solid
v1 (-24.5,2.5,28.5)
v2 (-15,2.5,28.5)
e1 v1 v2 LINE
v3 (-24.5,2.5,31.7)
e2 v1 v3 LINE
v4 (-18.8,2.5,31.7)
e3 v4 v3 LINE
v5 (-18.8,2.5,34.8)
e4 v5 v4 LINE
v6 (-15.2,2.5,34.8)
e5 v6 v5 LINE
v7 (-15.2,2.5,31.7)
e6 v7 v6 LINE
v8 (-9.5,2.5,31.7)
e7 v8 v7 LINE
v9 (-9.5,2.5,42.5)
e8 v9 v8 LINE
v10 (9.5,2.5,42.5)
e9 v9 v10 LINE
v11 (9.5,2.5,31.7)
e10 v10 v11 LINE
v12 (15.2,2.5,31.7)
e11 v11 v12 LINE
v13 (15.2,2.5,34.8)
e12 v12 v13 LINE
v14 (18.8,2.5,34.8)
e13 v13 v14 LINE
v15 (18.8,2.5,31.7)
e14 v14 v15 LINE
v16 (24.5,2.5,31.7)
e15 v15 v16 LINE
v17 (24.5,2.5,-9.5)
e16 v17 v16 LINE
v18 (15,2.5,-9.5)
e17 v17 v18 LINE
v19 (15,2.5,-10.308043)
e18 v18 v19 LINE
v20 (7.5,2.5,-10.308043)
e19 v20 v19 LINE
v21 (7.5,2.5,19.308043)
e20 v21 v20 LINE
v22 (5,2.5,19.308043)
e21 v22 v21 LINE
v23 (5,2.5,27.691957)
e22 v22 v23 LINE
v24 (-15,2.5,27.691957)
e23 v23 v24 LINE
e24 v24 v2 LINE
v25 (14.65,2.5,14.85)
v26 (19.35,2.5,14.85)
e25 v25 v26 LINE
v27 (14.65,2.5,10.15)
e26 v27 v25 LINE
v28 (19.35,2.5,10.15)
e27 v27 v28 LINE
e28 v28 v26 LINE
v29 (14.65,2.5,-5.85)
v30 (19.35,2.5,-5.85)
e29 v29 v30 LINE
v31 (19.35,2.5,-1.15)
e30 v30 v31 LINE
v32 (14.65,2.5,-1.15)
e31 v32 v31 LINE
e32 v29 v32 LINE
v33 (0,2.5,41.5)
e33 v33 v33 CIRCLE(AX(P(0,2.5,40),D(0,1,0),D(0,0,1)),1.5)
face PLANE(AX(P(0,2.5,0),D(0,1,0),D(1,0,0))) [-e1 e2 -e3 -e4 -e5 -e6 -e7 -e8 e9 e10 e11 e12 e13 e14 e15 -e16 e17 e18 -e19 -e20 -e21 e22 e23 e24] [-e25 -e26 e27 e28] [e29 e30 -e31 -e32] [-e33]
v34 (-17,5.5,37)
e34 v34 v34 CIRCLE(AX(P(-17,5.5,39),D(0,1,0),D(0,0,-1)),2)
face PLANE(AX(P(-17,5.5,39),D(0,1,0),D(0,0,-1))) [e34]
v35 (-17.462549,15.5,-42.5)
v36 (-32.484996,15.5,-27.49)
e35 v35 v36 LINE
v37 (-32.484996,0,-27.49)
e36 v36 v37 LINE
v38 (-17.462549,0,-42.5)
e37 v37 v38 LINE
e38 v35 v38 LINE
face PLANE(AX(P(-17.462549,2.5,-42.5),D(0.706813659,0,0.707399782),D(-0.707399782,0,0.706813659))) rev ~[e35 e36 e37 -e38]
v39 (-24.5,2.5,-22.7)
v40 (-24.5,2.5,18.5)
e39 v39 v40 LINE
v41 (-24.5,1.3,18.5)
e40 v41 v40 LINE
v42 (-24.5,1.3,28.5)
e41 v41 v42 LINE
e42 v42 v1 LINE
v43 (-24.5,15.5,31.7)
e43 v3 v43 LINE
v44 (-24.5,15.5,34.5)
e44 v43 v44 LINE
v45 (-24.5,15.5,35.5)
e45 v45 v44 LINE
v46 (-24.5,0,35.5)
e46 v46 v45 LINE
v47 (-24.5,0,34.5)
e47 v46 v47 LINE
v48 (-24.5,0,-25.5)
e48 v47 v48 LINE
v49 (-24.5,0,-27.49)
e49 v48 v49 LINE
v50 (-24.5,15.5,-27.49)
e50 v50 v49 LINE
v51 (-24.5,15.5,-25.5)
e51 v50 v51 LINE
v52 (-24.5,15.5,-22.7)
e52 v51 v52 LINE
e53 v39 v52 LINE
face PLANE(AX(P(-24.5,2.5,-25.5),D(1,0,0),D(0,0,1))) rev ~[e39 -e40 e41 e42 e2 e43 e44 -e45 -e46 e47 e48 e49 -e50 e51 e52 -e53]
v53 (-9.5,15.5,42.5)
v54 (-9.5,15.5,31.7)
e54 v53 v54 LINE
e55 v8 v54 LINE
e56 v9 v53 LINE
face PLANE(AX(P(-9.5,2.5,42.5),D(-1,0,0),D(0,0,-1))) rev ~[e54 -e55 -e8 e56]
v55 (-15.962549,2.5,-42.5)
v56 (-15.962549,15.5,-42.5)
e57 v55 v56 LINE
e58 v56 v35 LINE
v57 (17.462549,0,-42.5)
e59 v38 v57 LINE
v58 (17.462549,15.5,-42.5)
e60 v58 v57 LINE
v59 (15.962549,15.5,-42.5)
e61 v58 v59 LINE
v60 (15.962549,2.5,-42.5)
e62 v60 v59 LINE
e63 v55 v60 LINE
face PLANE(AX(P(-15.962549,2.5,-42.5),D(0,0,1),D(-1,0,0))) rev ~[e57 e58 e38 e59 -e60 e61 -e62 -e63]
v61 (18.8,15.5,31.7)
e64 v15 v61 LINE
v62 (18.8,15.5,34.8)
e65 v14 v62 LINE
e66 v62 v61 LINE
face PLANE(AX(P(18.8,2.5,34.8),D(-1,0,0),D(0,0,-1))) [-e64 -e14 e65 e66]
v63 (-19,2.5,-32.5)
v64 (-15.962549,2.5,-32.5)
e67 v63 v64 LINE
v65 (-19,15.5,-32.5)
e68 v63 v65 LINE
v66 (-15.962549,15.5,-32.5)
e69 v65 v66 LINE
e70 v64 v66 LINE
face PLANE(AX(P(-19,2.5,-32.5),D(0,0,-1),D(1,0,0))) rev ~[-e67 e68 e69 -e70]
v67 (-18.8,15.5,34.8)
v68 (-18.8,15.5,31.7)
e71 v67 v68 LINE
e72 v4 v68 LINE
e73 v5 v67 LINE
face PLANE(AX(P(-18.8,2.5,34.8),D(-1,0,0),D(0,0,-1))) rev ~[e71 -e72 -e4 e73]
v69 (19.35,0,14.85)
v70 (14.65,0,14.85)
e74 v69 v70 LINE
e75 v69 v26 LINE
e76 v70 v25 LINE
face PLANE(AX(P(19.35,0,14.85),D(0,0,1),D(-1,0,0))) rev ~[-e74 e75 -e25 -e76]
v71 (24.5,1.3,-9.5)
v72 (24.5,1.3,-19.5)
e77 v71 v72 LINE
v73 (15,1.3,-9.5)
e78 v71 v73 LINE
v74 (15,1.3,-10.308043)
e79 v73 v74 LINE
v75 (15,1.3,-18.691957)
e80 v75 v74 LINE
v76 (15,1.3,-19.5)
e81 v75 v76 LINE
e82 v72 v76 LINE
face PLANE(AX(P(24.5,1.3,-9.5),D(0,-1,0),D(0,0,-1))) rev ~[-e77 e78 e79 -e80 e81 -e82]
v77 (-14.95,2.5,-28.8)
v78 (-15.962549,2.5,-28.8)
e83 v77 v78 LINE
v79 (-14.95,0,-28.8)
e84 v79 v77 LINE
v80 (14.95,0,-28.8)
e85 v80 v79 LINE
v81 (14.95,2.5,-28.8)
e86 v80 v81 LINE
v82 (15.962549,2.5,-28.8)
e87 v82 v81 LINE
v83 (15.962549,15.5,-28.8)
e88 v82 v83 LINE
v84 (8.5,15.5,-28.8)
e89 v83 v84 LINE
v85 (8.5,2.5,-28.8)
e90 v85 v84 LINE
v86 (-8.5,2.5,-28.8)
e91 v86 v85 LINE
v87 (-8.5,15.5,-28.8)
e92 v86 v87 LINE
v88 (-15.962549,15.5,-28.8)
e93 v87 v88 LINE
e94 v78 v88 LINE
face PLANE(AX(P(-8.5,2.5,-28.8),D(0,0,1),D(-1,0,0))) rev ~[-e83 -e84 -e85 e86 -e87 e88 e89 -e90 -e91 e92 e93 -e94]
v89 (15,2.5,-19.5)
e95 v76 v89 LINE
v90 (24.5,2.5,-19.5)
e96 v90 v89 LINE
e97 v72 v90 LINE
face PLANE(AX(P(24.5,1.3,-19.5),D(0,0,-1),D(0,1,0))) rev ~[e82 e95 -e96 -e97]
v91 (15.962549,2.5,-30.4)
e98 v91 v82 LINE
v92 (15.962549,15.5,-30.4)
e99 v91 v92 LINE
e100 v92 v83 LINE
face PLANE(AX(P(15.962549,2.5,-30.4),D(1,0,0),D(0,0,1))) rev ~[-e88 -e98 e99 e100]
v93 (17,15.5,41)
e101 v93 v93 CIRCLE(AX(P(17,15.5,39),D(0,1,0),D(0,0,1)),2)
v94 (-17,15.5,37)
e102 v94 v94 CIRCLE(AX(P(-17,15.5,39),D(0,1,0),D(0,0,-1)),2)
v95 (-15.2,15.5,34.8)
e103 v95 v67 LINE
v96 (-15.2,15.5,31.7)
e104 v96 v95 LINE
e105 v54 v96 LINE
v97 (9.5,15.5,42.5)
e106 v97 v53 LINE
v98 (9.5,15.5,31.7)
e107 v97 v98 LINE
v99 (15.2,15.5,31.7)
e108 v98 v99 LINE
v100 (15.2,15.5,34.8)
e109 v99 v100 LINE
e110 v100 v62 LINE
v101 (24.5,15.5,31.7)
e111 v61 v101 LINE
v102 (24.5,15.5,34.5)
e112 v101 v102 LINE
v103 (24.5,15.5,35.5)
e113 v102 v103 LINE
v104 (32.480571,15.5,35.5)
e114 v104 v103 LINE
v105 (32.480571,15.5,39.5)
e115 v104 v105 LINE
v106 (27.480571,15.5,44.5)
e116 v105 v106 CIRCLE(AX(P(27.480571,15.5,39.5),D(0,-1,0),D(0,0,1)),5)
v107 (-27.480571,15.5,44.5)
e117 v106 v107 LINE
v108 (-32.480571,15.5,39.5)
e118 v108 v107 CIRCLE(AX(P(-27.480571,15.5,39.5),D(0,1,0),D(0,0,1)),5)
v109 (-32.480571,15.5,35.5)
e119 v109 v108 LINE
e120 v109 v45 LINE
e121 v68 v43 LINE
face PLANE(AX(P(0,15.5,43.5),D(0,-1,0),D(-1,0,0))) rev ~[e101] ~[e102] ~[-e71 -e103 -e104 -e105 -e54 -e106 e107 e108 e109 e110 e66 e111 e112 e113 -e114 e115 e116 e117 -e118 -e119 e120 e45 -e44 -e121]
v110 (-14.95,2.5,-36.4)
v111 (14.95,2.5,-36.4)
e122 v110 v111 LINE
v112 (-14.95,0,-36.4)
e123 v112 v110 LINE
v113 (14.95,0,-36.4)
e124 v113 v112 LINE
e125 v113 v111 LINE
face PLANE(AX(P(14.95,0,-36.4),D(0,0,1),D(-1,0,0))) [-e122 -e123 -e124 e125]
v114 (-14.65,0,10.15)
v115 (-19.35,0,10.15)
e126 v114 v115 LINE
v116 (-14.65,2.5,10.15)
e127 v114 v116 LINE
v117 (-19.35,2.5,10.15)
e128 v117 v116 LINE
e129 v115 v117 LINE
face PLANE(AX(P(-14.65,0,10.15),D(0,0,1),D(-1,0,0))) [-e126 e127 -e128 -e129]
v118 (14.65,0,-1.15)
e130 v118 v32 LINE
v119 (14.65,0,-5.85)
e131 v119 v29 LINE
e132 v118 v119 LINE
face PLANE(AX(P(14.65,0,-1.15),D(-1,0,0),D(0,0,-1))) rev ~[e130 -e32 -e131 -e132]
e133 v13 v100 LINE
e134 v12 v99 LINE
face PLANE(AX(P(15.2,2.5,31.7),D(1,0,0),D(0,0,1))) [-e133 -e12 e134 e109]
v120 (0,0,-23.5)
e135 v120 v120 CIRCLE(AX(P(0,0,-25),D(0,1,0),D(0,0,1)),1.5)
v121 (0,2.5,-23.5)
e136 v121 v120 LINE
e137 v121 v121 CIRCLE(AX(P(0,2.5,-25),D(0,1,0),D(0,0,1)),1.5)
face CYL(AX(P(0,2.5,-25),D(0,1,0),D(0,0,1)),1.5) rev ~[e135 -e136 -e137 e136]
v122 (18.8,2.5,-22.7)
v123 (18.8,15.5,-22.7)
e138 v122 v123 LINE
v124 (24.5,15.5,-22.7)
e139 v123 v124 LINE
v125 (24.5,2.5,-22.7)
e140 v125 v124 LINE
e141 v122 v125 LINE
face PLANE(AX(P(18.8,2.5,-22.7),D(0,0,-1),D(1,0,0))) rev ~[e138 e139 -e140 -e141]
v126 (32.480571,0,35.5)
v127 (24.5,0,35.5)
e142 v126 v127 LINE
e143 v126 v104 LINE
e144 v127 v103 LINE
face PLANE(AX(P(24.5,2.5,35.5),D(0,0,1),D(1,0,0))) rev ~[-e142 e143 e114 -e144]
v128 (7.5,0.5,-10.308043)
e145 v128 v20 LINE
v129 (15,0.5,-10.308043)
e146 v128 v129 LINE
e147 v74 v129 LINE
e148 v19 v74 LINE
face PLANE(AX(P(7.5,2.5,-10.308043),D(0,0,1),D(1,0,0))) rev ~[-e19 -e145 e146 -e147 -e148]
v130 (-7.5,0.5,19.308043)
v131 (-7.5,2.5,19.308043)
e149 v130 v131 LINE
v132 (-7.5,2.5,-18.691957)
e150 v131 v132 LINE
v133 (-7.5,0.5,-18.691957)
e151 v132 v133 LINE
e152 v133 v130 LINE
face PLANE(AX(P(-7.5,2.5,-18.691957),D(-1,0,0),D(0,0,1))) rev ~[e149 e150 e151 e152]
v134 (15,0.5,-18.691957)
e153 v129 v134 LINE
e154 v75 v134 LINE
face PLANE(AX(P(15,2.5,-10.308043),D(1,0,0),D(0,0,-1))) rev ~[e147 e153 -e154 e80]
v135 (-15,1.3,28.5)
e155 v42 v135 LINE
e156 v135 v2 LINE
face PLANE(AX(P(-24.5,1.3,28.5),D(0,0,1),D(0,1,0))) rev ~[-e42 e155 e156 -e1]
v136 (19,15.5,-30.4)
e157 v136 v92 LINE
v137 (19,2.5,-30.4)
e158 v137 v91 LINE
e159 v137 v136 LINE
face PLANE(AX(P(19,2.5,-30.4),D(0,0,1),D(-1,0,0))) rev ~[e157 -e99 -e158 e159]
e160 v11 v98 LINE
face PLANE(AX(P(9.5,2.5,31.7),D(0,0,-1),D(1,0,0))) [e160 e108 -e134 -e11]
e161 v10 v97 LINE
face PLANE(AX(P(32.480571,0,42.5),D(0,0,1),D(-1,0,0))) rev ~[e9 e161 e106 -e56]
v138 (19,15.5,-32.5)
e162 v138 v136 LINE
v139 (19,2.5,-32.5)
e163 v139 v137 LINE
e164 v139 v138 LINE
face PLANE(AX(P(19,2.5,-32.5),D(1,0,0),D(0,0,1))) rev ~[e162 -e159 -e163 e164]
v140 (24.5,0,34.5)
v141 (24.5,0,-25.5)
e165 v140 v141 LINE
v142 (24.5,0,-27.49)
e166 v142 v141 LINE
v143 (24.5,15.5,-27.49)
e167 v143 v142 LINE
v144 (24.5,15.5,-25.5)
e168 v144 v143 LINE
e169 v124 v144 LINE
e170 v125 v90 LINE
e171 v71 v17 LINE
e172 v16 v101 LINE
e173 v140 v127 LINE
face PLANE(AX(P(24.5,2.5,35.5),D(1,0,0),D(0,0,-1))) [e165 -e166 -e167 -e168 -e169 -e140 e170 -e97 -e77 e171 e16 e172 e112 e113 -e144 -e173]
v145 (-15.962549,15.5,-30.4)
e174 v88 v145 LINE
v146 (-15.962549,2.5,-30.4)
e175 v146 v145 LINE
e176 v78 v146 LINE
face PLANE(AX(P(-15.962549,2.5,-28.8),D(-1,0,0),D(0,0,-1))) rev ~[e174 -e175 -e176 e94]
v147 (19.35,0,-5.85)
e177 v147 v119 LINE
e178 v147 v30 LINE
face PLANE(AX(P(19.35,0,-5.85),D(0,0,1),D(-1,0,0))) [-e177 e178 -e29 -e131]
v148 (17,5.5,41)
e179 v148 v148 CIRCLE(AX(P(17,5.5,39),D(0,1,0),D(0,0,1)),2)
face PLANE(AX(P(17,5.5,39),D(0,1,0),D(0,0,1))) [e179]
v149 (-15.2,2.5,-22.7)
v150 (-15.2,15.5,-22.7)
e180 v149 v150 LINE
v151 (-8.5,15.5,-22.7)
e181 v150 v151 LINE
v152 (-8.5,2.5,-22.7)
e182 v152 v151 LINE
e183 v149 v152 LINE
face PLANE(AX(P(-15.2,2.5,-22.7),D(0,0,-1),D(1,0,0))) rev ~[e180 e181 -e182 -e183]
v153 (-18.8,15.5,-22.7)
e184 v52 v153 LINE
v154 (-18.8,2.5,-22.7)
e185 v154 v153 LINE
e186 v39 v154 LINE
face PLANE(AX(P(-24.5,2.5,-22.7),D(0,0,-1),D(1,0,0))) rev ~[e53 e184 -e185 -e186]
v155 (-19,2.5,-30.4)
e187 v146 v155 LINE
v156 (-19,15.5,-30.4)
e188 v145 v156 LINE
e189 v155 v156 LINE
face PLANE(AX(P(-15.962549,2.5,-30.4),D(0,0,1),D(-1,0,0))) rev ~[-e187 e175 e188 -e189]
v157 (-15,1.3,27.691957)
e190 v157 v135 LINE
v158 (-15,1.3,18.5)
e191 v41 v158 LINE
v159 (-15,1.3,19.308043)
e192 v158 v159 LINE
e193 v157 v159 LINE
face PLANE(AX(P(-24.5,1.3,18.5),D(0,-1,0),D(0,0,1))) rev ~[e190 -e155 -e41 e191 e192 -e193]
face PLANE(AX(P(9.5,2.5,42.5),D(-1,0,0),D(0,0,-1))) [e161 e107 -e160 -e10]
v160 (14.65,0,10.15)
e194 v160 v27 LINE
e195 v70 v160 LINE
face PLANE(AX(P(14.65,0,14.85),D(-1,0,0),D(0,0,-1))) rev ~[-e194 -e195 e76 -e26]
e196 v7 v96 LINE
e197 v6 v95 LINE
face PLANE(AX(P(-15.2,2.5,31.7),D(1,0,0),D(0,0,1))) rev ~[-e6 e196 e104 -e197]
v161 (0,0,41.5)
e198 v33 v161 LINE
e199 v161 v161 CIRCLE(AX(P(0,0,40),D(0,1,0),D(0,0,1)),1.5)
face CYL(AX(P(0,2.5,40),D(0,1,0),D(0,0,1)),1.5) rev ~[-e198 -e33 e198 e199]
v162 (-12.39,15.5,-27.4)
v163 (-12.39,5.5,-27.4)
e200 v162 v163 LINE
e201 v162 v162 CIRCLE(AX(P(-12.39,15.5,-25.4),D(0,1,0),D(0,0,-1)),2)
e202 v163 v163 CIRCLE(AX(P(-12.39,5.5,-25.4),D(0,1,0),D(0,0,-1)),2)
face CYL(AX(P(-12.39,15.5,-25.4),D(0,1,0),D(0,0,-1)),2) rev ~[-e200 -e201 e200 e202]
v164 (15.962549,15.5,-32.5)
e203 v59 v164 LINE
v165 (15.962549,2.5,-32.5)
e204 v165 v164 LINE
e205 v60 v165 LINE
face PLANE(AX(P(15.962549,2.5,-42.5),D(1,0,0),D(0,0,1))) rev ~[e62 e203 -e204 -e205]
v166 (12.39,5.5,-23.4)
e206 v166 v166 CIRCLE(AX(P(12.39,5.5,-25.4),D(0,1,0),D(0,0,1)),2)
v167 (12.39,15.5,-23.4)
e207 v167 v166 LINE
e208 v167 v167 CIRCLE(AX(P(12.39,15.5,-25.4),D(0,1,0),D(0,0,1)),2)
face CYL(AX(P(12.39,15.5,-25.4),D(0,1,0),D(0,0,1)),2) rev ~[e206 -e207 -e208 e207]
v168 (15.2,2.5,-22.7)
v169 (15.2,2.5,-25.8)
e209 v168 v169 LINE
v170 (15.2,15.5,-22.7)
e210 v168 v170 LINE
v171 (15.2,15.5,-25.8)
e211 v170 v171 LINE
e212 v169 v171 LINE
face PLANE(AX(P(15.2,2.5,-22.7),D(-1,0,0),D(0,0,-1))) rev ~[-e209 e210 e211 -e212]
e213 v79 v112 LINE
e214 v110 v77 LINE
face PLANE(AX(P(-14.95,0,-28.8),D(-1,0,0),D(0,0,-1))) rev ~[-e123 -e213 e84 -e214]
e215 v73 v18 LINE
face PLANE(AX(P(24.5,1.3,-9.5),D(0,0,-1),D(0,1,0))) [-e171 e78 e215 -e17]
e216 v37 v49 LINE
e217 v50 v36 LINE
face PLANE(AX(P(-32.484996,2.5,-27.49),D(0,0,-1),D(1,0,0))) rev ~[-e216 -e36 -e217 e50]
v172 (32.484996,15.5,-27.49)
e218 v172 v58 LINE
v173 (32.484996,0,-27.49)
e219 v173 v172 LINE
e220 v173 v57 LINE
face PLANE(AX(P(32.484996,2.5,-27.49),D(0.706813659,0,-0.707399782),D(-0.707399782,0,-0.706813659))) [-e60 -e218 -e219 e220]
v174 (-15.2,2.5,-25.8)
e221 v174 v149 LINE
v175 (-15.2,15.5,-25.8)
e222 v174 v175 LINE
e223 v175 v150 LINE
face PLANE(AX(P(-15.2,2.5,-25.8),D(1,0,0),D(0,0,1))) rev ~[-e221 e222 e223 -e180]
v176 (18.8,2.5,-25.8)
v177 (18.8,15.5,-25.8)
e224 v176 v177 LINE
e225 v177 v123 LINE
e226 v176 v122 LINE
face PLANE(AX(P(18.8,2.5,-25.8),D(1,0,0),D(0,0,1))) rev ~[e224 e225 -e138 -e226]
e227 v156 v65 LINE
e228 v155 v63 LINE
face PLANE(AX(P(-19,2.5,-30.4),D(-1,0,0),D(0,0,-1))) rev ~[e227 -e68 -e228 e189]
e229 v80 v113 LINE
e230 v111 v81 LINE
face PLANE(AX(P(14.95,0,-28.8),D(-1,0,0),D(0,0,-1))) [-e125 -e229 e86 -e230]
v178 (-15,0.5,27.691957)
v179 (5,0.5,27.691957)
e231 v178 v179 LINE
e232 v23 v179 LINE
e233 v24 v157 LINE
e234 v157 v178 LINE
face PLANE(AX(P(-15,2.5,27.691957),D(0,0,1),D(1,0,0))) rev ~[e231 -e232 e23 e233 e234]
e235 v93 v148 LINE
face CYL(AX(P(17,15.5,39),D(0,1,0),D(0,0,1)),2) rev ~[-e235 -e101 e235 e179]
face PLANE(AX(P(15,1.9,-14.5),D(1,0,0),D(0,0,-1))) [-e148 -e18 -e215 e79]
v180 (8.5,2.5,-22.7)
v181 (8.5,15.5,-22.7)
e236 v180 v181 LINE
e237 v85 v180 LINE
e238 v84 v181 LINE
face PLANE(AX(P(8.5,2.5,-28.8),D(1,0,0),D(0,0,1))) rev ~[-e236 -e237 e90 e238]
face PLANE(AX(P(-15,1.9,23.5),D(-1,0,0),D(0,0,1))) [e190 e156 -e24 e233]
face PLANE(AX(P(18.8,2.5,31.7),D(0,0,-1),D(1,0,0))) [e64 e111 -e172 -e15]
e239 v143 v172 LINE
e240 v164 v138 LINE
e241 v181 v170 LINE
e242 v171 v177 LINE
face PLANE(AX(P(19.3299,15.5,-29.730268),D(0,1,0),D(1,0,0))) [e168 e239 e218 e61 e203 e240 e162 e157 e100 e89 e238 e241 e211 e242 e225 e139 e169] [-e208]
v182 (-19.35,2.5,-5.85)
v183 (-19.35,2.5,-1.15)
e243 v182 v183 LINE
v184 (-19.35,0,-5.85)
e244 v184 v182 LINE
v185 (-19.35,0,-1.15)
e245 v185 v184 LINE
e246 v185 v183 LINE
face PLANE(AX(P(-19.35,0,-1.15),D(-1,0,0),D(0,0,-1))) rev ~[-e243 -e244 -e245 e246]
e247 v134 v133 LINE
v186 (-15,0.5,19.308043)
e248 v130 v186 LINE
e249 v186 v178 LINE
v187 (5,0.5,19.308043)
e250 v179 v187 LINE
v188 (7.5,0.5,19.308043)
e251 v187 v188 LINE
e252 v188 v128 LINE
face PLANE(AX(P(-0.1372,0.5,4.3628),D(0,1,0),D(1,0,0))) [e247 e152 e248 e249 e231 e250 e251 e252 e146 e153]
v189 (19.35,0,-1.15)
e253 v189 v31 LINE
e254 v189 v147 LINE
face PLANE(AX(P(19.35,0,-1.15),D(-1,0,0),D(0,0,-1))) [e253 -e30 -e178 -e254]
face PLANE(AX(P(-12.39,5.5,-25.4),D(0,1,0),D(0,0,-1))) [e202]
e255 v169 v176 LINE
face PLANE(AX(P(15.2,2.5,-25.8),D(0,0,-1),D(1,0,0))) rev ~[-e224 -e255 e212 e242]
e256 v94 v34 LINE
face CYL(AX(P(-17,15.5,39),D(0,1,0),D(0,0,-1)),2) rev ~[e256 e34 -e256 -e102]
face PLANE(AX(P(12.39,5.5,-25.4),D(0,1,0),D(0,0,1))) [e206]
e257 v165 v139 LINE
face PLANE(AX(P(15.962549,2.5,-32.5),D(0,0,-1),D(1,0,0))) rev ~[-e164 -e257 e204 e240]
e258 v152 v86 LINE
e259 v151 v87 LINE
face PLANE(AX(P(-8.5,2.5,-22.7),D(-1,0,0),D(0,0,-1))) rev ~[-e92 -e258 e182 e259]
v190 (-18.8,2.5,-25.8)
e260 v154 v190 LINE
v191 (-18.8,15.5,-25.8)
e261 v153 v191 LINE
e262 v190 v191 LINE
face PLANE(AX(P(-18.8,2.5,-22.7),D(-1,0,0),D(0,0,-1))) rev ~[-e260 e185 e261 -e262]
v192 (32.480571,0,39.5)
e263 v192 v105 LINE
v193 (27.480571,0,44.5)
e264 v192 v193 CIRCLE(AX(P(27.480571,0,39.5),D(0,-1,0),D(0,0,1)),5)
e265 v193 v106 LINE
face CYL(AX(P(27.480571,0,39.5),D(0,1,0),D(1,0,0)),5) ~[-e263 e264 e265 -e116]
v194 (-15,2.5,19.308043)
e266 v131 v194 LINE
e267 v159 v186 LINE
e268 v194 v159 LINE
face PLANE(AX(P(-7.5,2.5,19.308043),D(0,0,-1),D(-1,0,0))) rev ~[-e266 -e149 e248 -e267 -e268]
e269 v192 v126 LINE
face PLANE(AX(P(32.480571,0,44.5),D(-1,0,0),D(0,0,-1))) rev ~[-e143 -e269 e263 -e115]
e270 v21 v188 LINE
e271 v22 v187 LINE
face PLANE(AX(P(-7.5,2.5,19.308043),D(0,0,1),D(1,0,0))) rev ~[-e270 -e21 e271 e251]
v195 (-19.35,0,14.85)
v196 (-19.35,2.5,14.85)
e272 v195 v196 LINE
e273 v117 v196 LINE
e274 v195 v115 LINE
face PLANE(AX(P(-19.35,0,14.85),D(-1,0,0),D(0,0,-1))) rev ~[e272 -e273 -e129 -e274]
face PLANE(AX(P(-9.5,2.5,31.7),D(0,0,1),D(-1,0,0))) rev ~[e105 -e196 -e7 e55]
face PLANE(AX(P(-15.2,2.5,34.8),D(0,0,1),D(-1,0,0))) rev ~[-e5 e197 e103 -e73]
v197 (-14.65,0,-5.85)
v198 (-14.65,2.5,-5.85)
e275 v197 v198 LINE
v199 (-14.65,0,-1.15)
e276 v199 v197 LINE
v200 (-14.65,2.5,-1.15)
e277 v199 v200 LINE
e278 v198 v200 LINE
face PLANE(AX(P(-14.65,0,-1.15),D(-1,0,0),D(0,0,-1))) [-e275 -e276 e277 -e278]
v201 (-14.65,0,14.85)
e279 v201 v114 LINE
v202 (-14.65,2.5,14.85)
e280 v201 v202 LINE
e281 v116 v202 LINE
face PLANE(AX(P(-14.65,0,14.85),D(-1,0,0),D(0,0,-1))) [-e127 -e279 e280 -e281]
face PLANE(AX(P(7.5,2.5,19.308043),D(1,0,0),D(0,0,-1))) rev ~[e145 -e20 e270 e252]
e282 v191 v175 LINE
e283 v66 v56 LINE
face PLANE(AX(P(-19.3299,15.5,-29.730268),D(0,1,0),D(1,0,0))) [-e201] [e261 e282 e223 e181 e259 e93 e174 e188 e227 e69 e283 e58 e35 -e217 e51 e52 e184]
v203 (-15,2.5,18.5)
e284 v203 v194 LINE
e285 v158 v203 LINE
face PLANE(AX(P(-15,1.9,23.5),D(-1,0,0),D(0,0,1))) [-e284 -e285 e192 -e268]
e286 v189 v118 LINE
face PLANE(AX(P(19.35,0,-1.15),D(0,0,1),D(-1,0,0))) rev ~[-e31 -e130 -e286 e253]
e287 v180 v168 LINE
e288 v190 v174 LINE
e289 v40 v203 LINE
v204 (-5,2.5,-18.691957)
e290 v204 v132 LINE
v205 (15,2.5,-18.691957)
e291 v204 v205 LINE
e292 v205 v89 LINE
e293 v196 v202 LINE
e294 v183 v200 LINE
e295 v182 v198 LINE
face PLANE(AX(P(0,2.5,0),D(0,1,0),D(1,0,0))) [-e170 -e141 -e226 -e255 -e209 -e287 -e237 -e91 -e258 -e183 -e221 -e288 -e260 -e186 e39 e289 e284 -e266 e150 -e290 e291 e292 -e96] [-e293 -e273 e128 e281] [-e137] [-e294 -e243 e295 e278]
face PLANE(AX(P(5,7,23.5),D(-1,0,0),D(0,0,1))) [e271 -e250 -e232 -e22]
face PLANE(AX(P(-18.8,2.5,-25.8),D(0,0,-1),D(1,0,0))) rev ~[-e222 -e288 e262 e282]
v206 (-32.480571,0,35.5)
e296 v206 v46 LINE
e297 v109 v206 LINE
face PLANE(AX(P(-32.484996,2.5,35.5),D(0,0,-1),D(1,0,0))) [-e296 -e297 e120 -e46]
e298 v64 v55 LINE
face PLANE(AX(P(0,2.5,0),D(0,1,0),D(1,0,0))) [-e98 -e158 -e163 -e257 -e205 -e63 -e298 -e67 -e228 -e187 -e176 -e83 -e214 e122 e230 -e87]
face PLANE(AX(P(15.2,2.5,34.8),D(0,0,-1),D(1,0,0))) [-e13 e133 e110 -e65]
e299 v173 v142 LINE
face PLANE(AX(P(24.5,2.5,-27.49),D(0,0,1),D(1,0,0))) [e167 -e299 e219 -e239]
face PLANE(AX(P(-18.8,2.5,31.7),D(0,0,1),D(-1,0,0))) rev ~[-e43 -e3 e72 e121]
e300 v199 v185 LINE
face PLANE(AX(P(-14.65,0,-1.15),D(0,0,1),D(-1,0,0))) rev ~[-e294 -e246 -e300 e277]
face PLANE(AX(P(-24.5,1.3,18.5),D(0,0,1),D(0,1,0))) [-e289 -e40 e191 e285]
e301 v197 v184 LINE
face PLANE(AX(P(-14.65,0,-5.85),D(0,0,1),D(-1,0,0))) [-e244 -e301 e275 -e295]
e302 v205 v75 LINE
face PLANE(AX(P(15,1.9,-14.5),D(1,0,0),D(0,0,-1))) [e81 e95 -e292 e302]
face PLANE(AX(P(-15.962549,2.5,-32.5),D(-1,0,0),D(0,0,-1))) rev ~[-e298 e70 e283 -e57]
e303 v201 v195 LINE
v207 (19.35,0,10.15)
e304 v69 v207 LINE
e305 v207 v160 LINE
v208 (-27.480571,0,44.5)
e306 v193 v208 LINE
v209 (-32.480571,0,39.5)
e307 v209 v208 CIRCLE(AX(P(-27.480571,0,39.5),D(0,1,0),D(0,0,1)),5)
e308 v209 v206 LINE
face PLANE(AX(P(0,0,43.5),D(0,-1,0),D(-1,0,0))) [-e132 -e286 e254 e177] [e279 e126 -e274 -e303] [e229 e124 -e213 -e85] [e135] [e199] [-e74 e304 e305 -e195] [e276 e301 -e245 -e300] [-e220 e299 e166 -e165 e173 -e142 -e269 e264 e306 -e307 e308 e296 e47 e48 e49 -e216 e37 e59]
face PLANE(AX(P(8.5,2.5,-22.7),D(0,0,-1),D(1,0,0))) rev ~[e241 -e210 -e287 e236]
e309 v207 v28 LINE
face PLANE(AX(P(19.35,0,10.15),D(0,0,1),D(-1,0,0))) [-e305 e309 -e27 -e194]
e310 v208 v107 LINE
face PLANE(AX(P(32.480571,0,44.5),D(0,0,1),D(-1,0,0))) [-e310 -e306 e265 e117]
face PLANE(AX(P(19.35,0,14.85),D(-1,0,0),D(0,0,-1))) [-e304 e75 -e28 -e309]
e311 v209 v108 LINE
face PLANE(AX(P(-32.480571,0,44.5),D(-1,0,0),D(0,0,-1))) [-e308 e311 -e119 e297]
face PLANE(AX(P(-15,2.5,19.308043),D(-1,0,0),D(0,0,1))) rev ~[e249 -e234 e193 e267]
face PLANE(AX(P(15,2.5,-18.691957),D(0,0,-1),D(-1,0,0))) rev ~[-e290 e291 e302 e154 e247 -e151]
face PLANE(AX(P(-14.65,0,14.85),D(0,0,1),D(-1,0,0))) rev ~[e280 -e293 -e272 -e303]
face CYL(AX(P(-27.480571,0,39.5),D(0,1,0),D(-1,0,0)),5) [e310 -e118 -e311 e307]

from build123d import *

# Parameters (mm, degrees)
SKETCH1_W           = 70
SKETCH1_H           = 85
BOSS_EXTRUDE1_DEPTH = 2.5
SKETCH2_W           = 10.5
SKETCH2_H           = 60
CUT_EXTRUDE1_DEPTH  = 10
SKETCH3_W           = 2.519429159
SKETCH3_H           = 8
CUT_EXTRUDE2_DEPTH  = 10
SKETCH4_W           = 4.7
SKETCH4_H           = 4.7
SKETCH4_W_2         = 29.9
SKETCH4_H_2         = 7.6
CUT_EXTRUDE3_DEPTH  = 10
BOSS_EXTRUDE2_DEPTH = 13
SKETCH8_W           = 10
SKETCH8_H           = 1.2
CUT_EXTRUDE6_DEPTH  = 9.5
SKETCH9_R           = 6.15
CUT_EXTRUDE7_DEPTH  = 20
SKETCH10_W          = 10
SKETCH10_H          = 1.2
CUT_EXTRUDE8_DEPTH  = 9.5
SKETCH11_R          = 6.15
CUT_EXTRUDE9_DEPTH  = 20
CUT_EXTRUDE10_DEPTH = 1.2
SKETCH13_W          = 3
SKETCH13_H          = 4.191956584
CUT_EXTRUDE11_DEPTH = 1.2
SKETCH15_R          = 1.5
CUT_EXTRUDE12_DEPTH = 10
SKETCH16_R          = 2
CUT_EXTRUDE13_DEPTH = 10
SKETCH17_W          = 64.961141682
SKETCH17_H          = 2
BOSS_EXTRUDE3_DEPTH = 15.5
FILLET1_R           = 5
SKETCH18_W          = 7.984996169
SKETCH18_H          = 62.989999862
CUT_EXTRUDE14_DEPTH = 50
CUT_EXTRUDE15_DEPTH = 2


with BuildPart() as part:
    # Sketch1 → Boss-Extrude1 (new body)
    with BuildSketch(Plane(origin=(0, 0, 0), x_dir=(1, 0, 0), z_dir=(0, 1, 0))):
        Rectangle(SKETCH1_W, SKETCH1_H)
    extrude(amount=BOSS_EXTRUDE1_DEPTH)

    # Sketch2 → Cut-Extrude1 (cut)
    with BuildSketch(Plane(origin=(0, 0, 0), x_dir=(-1, 0, 0), z_dir=(0, -1, 0))):
        with Locations((-29.75, -4.5)):
            Rectangle(SKETCH2_W, SKETCH2_H)
        with Locations((29.75, -4.5)):
            Rectangle(SKETCH2_W, SKETCH2_H)
    extrude(amount=-CUT_EXTRUDE1_DEPTH, mode=Mode.SUBTRACT)

    # Sketch3 → Cut-Extrude2 (cut)
    with BuildSketch(Plane(origin=(0, 2.5, 0), x_dir=(1, 0, 0), z_dir=(0, 1, 0))):
        Polygon((17.462549034, 42.5), (35, 42.5), (35, 25.5), (32.484854108, 25.5), (32.484996169, 27.489999862), align=None)
        with Locations((33.740285421, -38.5)):
            Rectangle(SKETCH3_W, SKETCH3_H)
        with Locations((-33.740285421, -38.5)):
            Rectangle(SKETCH3_W, SKETCH3_H)
        Polygon((-32.484996169, 27.489999862), (-17.462549034, 42.5), (-35, 42.5), (-35, 25.5), (-32.484854108, 25.5), align=None)
    extrude(amount=-CUT_EXTRUDE2_DEPTH, mode=Mode.SUBTRACT)

    # Sketch4 → Cut-Extrude3 (cut)
    with BuildSketch(Plane(origin=(0, 0, 0), x_dir=(-1, 0, 0), z_dir=(0, -1, 0))):
        with Locations((-17, 3.5)):
            Rectangle(SKETCH4_W, SKETCH4_H)
        with Locations((-17, -12.5)):
            Rectangle(SKETCH4_W, SKETCH4_H)
        with Locations((17, -12.5)):
            Rectangle(SKETCH4_W, SKETCH4_H)
        with Locations((17, 3.5)):
            Rectangle(SKETCH4_W, SKETCH4_H)
        with Locations((0, 32.6)):
            Rectangle(SKETCH4_W_2, SKETCH4_H_2)
    extrude(amount=-CUT_EXTRUDE3_DEPTH, mode=Mode.SUBTRACT)

    # Sketch5 → Boss-Extrude2 (add)
    with BuildSketch(Plane(origin=(0, 2.5, 0), x_dir=(1, 0, 0), z_dir=(0, 1, 0))):
        Polygon((-32.484996169, 27.489999862), (-32.484854108, 25.5), (-24.5, 25.5), (-24.5, 22.7), (-18.8, 22.7), (-18.8, 25.8), (-15.2, 25.8), (-15.2, 22.7), (-8.5, 22.7), (-8.5, 28.8), (-15.962549034, 28.8), (-15.962549034, 30.4), (-19, 30.4), (-19, 32.5), (-15.962549034, 32.5), (-15.962549034, 42.5), (-17.462549034, 42.5), align=None)
        Polygon((-9.5, -42.5), (-9.5, -31.7), (-15.2, -31.7), (-15.2, -34.8), (-18.8, -34.8), (-18.8, -31.7), (-24.5, -31.7), (-24.5, -34.5), (-32.480570841, -34.5), (-32.480570841, -42.5), align=None)
        Polygon((32.480570841, -42.5), (9.5, -42.5), (9.5, -31.7), (15.2, -31.7), (15.2, -34.8), (18.8, -34.8), (18.8, -31.7), (24.5, -31.7), (24.5, -34.5), (32.480570841, -34.5), align=None)
        Polygon((15.962549034, 30.4), (15.962549034, 28.8), (8.5, 28.8), (8.5, 22.7), (15.2, 22.7), (15.2, 25.8), (18.8, 25.8), (18.8, 22.7), (24.5, 22.7), (24.5, 25.5), (32.484854108, 25.5), (32.484996169, 27.489999862), (17.462549034, 42.5), (15.962549034, 42.5), (15.962549034, 32.5), (19, 32.5), (19, 30.4), align=None)
    extrude(amount=BOSS_EXTRUDE2_DEPTH)

    # Sketch8 → Cut-Extrude6 (cut)
    with BuildSketch(Plane.ZY.offset(24.5)):
        with Locations((23.5, 1.9)):
            Rectangle(SKETCH8_W, SKETCH8_H)
    extrude(amount=-CUT_EXTRUDE6_DEPTH, mode=Mode.SUBTRACT)

    # Sketch9 → Cut-Extrude7 (cut)
    with BuildSketch(Plane.ZY.offset(15)):
        with Locations((23.5, 7)):
            Circle(SKETCH9_R)
    extrude(amount=-CUT_EXTRUDE7_DEPTH, mode=Mode.SUBTRACT)

    # Sketch10 → Cut-Extrude8 (cut)
    with BuildSketch(Plane(origin=(24.5, 0, 0), x_dir=(0, 0, -1), z_dir=(1, 0, 0))):
        with Locations((14.5, 1.9)):
            Rectangle(SKETCH10_W, SKETCH10_H)
    extrude(amount=-CUT_EXTRUDE8_DEPTH, mode=Mode.SUBTRACT)

    # Sketch11 → Cut-Extrude9 (cut)
    with BuildSketch(Plane(origin=(15, 0, 0), x_dir=(0, 0, -1), z_dir=(1, 0, 0))):
        with Locations((14.5, 7)):
            Circle(SKETCH11_R)
    extrude(amount=-CUT_EXTRUDE9_DEPTH, mode=Mode.SUBTRACT)

    # Sketch12 → Cut-Extrude10 (cut)
    with BuildSketch(Plane(origin=(0, 2.5, 0), x_dir=(1, 0, 0), z_dir=(0, 1, 0))):
        Polygon((5, -19.308043416), (7.5, -19.308043416), (7.5, 10.308043416), (-7.5, 10.308043416), (-7.5, -19.308043416), align=None)
    extrude(amount=-CUT_EXTRUDE10_DEPTH, mode=Mode.SUBTRACT)

    # Sketch13 → Cut-Extrude11 (cut)
    with BuildSketch(Plane(origin=(0, 2.5, 0), x_dir=(1, 0, 0), z_dir=(0, 1, 0))):
        with Locations((-0.8, 12.404021708)):
            Rectangle(SKETCH13_W, SKETCH13_H)
        with Locations((0.8, -21.404021708)):
            Rectangle(SKETCH13_W, SKETCH13_H)
    extrude(amount=-CUT_EXTRUDE11_DEPTH, mode=Mode.SUBTRACT)

    # Sketch15 → Cut-Extrude12 (cut)
    with BuildSketch(Plane(origin=(0, 2.5, 0), x_dir=(1, 0, 0), z_dir=(0, 1, 0))):
        with Locations(Location((0, 25, 0), (0, 0, 270))):
            Circle(SKETCH15_R)
        with Locations(Location((0, -40, 0), (0, 0, 270))):
            Circle(SKETCH15_R)
    extrude(amount=-CUT_EXTRUDE12_DEPTH, mode=Mode.SUBTRACT)

    # Sketch16 → Cut-Extrude13 (cut)
    with BuildSketch(Plane(origin=(0, 15.5, 0), x_dir=(1, 0, 0), z_dir=(0, 1, 0))):
        with Locations(Location((12.39, 25.4, 0), (0, 0, 270))):
            Circle(SKETCH16_R)
        with Locations(Location((17, -39, 0), (0, 0, 270))):
            Circle(SKETCH16_R)
        with Locations(Location((-17, -39, 0), (0, 0, 90))):
            Circle(SKETCH16_R)
        with Locations(Location((-12.39, 25.4, 0), (0, 0, 90))):
            Circle(SKETCH16_R)
    extrude(amount=-CUT_EXTRUDE13_DEPTH, mode=Mode.SUBTRACT)

    # Sketch17 → Boss-Extrude3 (add)
    with BuildSketch(Plane(origin=(0, 0, 0), x_dir=(-1, 0, 0), z_dir=(0, -1, 0))):
        with Locations((0, -43.5)):
            Rectangle(SKETCH17_W, SKETCH17_H)
    extrude(amount=-BOSS_EXTRUDE3_DEPTH)

    # Fillet1
    fillet1_edges = [part.edges().sort_by_distance(p)[0] for p in [
        (-32.480570841, 7.75, 44.5),
        (32.480570841, 7.75, 44.5),
    ]]
    fillet(fillet1_edges, radius=FILLET1_R)

    # Sketch18 → Cut-Extrude14 (cut, symmetric)
    with BuildSketch(Plane(origin=(0, 2.5, 0), x_dir=(1, 0, 0), z_dir=(0, 1, 0))):
        with Locations((-28.492498084, -4.005000069)):
            Rectangle(SKETCH18_W, SKETCH18_H)
        with Locations((28.492498084, -4.005000069)):
            Rectangle(SKETCH18_W, SKETCH18_H)
    extrude(amount=CUT_EXTRUDE14_DEPTH, both=True, mode=Mode.SUBTRACT)

    # Sketch19 → Cut-Extrude15 (cut)
    with BuildSketch(Plane(origin=(0, 2.5, 0), x_dir=(1, 0, 0), z_dir=(0, 1, 0))):
        Polygon((15, 18.691956584), (-5, 18.691956584), (-7.5, 18.691956584), (-7.5, -19.308043416), (-15, -19.308043416), (-15, -27.691956584), (5, -27.691956584), (5, -19.308043416), (7.5, -19.308043416), (7.5, 10.308043416), (15, 10.308043416), align=None)
    extrude(amount=-CUT_EXTRUDE15_DEPTH, mode=Mode.SUBTRACT)


solid = part.part
